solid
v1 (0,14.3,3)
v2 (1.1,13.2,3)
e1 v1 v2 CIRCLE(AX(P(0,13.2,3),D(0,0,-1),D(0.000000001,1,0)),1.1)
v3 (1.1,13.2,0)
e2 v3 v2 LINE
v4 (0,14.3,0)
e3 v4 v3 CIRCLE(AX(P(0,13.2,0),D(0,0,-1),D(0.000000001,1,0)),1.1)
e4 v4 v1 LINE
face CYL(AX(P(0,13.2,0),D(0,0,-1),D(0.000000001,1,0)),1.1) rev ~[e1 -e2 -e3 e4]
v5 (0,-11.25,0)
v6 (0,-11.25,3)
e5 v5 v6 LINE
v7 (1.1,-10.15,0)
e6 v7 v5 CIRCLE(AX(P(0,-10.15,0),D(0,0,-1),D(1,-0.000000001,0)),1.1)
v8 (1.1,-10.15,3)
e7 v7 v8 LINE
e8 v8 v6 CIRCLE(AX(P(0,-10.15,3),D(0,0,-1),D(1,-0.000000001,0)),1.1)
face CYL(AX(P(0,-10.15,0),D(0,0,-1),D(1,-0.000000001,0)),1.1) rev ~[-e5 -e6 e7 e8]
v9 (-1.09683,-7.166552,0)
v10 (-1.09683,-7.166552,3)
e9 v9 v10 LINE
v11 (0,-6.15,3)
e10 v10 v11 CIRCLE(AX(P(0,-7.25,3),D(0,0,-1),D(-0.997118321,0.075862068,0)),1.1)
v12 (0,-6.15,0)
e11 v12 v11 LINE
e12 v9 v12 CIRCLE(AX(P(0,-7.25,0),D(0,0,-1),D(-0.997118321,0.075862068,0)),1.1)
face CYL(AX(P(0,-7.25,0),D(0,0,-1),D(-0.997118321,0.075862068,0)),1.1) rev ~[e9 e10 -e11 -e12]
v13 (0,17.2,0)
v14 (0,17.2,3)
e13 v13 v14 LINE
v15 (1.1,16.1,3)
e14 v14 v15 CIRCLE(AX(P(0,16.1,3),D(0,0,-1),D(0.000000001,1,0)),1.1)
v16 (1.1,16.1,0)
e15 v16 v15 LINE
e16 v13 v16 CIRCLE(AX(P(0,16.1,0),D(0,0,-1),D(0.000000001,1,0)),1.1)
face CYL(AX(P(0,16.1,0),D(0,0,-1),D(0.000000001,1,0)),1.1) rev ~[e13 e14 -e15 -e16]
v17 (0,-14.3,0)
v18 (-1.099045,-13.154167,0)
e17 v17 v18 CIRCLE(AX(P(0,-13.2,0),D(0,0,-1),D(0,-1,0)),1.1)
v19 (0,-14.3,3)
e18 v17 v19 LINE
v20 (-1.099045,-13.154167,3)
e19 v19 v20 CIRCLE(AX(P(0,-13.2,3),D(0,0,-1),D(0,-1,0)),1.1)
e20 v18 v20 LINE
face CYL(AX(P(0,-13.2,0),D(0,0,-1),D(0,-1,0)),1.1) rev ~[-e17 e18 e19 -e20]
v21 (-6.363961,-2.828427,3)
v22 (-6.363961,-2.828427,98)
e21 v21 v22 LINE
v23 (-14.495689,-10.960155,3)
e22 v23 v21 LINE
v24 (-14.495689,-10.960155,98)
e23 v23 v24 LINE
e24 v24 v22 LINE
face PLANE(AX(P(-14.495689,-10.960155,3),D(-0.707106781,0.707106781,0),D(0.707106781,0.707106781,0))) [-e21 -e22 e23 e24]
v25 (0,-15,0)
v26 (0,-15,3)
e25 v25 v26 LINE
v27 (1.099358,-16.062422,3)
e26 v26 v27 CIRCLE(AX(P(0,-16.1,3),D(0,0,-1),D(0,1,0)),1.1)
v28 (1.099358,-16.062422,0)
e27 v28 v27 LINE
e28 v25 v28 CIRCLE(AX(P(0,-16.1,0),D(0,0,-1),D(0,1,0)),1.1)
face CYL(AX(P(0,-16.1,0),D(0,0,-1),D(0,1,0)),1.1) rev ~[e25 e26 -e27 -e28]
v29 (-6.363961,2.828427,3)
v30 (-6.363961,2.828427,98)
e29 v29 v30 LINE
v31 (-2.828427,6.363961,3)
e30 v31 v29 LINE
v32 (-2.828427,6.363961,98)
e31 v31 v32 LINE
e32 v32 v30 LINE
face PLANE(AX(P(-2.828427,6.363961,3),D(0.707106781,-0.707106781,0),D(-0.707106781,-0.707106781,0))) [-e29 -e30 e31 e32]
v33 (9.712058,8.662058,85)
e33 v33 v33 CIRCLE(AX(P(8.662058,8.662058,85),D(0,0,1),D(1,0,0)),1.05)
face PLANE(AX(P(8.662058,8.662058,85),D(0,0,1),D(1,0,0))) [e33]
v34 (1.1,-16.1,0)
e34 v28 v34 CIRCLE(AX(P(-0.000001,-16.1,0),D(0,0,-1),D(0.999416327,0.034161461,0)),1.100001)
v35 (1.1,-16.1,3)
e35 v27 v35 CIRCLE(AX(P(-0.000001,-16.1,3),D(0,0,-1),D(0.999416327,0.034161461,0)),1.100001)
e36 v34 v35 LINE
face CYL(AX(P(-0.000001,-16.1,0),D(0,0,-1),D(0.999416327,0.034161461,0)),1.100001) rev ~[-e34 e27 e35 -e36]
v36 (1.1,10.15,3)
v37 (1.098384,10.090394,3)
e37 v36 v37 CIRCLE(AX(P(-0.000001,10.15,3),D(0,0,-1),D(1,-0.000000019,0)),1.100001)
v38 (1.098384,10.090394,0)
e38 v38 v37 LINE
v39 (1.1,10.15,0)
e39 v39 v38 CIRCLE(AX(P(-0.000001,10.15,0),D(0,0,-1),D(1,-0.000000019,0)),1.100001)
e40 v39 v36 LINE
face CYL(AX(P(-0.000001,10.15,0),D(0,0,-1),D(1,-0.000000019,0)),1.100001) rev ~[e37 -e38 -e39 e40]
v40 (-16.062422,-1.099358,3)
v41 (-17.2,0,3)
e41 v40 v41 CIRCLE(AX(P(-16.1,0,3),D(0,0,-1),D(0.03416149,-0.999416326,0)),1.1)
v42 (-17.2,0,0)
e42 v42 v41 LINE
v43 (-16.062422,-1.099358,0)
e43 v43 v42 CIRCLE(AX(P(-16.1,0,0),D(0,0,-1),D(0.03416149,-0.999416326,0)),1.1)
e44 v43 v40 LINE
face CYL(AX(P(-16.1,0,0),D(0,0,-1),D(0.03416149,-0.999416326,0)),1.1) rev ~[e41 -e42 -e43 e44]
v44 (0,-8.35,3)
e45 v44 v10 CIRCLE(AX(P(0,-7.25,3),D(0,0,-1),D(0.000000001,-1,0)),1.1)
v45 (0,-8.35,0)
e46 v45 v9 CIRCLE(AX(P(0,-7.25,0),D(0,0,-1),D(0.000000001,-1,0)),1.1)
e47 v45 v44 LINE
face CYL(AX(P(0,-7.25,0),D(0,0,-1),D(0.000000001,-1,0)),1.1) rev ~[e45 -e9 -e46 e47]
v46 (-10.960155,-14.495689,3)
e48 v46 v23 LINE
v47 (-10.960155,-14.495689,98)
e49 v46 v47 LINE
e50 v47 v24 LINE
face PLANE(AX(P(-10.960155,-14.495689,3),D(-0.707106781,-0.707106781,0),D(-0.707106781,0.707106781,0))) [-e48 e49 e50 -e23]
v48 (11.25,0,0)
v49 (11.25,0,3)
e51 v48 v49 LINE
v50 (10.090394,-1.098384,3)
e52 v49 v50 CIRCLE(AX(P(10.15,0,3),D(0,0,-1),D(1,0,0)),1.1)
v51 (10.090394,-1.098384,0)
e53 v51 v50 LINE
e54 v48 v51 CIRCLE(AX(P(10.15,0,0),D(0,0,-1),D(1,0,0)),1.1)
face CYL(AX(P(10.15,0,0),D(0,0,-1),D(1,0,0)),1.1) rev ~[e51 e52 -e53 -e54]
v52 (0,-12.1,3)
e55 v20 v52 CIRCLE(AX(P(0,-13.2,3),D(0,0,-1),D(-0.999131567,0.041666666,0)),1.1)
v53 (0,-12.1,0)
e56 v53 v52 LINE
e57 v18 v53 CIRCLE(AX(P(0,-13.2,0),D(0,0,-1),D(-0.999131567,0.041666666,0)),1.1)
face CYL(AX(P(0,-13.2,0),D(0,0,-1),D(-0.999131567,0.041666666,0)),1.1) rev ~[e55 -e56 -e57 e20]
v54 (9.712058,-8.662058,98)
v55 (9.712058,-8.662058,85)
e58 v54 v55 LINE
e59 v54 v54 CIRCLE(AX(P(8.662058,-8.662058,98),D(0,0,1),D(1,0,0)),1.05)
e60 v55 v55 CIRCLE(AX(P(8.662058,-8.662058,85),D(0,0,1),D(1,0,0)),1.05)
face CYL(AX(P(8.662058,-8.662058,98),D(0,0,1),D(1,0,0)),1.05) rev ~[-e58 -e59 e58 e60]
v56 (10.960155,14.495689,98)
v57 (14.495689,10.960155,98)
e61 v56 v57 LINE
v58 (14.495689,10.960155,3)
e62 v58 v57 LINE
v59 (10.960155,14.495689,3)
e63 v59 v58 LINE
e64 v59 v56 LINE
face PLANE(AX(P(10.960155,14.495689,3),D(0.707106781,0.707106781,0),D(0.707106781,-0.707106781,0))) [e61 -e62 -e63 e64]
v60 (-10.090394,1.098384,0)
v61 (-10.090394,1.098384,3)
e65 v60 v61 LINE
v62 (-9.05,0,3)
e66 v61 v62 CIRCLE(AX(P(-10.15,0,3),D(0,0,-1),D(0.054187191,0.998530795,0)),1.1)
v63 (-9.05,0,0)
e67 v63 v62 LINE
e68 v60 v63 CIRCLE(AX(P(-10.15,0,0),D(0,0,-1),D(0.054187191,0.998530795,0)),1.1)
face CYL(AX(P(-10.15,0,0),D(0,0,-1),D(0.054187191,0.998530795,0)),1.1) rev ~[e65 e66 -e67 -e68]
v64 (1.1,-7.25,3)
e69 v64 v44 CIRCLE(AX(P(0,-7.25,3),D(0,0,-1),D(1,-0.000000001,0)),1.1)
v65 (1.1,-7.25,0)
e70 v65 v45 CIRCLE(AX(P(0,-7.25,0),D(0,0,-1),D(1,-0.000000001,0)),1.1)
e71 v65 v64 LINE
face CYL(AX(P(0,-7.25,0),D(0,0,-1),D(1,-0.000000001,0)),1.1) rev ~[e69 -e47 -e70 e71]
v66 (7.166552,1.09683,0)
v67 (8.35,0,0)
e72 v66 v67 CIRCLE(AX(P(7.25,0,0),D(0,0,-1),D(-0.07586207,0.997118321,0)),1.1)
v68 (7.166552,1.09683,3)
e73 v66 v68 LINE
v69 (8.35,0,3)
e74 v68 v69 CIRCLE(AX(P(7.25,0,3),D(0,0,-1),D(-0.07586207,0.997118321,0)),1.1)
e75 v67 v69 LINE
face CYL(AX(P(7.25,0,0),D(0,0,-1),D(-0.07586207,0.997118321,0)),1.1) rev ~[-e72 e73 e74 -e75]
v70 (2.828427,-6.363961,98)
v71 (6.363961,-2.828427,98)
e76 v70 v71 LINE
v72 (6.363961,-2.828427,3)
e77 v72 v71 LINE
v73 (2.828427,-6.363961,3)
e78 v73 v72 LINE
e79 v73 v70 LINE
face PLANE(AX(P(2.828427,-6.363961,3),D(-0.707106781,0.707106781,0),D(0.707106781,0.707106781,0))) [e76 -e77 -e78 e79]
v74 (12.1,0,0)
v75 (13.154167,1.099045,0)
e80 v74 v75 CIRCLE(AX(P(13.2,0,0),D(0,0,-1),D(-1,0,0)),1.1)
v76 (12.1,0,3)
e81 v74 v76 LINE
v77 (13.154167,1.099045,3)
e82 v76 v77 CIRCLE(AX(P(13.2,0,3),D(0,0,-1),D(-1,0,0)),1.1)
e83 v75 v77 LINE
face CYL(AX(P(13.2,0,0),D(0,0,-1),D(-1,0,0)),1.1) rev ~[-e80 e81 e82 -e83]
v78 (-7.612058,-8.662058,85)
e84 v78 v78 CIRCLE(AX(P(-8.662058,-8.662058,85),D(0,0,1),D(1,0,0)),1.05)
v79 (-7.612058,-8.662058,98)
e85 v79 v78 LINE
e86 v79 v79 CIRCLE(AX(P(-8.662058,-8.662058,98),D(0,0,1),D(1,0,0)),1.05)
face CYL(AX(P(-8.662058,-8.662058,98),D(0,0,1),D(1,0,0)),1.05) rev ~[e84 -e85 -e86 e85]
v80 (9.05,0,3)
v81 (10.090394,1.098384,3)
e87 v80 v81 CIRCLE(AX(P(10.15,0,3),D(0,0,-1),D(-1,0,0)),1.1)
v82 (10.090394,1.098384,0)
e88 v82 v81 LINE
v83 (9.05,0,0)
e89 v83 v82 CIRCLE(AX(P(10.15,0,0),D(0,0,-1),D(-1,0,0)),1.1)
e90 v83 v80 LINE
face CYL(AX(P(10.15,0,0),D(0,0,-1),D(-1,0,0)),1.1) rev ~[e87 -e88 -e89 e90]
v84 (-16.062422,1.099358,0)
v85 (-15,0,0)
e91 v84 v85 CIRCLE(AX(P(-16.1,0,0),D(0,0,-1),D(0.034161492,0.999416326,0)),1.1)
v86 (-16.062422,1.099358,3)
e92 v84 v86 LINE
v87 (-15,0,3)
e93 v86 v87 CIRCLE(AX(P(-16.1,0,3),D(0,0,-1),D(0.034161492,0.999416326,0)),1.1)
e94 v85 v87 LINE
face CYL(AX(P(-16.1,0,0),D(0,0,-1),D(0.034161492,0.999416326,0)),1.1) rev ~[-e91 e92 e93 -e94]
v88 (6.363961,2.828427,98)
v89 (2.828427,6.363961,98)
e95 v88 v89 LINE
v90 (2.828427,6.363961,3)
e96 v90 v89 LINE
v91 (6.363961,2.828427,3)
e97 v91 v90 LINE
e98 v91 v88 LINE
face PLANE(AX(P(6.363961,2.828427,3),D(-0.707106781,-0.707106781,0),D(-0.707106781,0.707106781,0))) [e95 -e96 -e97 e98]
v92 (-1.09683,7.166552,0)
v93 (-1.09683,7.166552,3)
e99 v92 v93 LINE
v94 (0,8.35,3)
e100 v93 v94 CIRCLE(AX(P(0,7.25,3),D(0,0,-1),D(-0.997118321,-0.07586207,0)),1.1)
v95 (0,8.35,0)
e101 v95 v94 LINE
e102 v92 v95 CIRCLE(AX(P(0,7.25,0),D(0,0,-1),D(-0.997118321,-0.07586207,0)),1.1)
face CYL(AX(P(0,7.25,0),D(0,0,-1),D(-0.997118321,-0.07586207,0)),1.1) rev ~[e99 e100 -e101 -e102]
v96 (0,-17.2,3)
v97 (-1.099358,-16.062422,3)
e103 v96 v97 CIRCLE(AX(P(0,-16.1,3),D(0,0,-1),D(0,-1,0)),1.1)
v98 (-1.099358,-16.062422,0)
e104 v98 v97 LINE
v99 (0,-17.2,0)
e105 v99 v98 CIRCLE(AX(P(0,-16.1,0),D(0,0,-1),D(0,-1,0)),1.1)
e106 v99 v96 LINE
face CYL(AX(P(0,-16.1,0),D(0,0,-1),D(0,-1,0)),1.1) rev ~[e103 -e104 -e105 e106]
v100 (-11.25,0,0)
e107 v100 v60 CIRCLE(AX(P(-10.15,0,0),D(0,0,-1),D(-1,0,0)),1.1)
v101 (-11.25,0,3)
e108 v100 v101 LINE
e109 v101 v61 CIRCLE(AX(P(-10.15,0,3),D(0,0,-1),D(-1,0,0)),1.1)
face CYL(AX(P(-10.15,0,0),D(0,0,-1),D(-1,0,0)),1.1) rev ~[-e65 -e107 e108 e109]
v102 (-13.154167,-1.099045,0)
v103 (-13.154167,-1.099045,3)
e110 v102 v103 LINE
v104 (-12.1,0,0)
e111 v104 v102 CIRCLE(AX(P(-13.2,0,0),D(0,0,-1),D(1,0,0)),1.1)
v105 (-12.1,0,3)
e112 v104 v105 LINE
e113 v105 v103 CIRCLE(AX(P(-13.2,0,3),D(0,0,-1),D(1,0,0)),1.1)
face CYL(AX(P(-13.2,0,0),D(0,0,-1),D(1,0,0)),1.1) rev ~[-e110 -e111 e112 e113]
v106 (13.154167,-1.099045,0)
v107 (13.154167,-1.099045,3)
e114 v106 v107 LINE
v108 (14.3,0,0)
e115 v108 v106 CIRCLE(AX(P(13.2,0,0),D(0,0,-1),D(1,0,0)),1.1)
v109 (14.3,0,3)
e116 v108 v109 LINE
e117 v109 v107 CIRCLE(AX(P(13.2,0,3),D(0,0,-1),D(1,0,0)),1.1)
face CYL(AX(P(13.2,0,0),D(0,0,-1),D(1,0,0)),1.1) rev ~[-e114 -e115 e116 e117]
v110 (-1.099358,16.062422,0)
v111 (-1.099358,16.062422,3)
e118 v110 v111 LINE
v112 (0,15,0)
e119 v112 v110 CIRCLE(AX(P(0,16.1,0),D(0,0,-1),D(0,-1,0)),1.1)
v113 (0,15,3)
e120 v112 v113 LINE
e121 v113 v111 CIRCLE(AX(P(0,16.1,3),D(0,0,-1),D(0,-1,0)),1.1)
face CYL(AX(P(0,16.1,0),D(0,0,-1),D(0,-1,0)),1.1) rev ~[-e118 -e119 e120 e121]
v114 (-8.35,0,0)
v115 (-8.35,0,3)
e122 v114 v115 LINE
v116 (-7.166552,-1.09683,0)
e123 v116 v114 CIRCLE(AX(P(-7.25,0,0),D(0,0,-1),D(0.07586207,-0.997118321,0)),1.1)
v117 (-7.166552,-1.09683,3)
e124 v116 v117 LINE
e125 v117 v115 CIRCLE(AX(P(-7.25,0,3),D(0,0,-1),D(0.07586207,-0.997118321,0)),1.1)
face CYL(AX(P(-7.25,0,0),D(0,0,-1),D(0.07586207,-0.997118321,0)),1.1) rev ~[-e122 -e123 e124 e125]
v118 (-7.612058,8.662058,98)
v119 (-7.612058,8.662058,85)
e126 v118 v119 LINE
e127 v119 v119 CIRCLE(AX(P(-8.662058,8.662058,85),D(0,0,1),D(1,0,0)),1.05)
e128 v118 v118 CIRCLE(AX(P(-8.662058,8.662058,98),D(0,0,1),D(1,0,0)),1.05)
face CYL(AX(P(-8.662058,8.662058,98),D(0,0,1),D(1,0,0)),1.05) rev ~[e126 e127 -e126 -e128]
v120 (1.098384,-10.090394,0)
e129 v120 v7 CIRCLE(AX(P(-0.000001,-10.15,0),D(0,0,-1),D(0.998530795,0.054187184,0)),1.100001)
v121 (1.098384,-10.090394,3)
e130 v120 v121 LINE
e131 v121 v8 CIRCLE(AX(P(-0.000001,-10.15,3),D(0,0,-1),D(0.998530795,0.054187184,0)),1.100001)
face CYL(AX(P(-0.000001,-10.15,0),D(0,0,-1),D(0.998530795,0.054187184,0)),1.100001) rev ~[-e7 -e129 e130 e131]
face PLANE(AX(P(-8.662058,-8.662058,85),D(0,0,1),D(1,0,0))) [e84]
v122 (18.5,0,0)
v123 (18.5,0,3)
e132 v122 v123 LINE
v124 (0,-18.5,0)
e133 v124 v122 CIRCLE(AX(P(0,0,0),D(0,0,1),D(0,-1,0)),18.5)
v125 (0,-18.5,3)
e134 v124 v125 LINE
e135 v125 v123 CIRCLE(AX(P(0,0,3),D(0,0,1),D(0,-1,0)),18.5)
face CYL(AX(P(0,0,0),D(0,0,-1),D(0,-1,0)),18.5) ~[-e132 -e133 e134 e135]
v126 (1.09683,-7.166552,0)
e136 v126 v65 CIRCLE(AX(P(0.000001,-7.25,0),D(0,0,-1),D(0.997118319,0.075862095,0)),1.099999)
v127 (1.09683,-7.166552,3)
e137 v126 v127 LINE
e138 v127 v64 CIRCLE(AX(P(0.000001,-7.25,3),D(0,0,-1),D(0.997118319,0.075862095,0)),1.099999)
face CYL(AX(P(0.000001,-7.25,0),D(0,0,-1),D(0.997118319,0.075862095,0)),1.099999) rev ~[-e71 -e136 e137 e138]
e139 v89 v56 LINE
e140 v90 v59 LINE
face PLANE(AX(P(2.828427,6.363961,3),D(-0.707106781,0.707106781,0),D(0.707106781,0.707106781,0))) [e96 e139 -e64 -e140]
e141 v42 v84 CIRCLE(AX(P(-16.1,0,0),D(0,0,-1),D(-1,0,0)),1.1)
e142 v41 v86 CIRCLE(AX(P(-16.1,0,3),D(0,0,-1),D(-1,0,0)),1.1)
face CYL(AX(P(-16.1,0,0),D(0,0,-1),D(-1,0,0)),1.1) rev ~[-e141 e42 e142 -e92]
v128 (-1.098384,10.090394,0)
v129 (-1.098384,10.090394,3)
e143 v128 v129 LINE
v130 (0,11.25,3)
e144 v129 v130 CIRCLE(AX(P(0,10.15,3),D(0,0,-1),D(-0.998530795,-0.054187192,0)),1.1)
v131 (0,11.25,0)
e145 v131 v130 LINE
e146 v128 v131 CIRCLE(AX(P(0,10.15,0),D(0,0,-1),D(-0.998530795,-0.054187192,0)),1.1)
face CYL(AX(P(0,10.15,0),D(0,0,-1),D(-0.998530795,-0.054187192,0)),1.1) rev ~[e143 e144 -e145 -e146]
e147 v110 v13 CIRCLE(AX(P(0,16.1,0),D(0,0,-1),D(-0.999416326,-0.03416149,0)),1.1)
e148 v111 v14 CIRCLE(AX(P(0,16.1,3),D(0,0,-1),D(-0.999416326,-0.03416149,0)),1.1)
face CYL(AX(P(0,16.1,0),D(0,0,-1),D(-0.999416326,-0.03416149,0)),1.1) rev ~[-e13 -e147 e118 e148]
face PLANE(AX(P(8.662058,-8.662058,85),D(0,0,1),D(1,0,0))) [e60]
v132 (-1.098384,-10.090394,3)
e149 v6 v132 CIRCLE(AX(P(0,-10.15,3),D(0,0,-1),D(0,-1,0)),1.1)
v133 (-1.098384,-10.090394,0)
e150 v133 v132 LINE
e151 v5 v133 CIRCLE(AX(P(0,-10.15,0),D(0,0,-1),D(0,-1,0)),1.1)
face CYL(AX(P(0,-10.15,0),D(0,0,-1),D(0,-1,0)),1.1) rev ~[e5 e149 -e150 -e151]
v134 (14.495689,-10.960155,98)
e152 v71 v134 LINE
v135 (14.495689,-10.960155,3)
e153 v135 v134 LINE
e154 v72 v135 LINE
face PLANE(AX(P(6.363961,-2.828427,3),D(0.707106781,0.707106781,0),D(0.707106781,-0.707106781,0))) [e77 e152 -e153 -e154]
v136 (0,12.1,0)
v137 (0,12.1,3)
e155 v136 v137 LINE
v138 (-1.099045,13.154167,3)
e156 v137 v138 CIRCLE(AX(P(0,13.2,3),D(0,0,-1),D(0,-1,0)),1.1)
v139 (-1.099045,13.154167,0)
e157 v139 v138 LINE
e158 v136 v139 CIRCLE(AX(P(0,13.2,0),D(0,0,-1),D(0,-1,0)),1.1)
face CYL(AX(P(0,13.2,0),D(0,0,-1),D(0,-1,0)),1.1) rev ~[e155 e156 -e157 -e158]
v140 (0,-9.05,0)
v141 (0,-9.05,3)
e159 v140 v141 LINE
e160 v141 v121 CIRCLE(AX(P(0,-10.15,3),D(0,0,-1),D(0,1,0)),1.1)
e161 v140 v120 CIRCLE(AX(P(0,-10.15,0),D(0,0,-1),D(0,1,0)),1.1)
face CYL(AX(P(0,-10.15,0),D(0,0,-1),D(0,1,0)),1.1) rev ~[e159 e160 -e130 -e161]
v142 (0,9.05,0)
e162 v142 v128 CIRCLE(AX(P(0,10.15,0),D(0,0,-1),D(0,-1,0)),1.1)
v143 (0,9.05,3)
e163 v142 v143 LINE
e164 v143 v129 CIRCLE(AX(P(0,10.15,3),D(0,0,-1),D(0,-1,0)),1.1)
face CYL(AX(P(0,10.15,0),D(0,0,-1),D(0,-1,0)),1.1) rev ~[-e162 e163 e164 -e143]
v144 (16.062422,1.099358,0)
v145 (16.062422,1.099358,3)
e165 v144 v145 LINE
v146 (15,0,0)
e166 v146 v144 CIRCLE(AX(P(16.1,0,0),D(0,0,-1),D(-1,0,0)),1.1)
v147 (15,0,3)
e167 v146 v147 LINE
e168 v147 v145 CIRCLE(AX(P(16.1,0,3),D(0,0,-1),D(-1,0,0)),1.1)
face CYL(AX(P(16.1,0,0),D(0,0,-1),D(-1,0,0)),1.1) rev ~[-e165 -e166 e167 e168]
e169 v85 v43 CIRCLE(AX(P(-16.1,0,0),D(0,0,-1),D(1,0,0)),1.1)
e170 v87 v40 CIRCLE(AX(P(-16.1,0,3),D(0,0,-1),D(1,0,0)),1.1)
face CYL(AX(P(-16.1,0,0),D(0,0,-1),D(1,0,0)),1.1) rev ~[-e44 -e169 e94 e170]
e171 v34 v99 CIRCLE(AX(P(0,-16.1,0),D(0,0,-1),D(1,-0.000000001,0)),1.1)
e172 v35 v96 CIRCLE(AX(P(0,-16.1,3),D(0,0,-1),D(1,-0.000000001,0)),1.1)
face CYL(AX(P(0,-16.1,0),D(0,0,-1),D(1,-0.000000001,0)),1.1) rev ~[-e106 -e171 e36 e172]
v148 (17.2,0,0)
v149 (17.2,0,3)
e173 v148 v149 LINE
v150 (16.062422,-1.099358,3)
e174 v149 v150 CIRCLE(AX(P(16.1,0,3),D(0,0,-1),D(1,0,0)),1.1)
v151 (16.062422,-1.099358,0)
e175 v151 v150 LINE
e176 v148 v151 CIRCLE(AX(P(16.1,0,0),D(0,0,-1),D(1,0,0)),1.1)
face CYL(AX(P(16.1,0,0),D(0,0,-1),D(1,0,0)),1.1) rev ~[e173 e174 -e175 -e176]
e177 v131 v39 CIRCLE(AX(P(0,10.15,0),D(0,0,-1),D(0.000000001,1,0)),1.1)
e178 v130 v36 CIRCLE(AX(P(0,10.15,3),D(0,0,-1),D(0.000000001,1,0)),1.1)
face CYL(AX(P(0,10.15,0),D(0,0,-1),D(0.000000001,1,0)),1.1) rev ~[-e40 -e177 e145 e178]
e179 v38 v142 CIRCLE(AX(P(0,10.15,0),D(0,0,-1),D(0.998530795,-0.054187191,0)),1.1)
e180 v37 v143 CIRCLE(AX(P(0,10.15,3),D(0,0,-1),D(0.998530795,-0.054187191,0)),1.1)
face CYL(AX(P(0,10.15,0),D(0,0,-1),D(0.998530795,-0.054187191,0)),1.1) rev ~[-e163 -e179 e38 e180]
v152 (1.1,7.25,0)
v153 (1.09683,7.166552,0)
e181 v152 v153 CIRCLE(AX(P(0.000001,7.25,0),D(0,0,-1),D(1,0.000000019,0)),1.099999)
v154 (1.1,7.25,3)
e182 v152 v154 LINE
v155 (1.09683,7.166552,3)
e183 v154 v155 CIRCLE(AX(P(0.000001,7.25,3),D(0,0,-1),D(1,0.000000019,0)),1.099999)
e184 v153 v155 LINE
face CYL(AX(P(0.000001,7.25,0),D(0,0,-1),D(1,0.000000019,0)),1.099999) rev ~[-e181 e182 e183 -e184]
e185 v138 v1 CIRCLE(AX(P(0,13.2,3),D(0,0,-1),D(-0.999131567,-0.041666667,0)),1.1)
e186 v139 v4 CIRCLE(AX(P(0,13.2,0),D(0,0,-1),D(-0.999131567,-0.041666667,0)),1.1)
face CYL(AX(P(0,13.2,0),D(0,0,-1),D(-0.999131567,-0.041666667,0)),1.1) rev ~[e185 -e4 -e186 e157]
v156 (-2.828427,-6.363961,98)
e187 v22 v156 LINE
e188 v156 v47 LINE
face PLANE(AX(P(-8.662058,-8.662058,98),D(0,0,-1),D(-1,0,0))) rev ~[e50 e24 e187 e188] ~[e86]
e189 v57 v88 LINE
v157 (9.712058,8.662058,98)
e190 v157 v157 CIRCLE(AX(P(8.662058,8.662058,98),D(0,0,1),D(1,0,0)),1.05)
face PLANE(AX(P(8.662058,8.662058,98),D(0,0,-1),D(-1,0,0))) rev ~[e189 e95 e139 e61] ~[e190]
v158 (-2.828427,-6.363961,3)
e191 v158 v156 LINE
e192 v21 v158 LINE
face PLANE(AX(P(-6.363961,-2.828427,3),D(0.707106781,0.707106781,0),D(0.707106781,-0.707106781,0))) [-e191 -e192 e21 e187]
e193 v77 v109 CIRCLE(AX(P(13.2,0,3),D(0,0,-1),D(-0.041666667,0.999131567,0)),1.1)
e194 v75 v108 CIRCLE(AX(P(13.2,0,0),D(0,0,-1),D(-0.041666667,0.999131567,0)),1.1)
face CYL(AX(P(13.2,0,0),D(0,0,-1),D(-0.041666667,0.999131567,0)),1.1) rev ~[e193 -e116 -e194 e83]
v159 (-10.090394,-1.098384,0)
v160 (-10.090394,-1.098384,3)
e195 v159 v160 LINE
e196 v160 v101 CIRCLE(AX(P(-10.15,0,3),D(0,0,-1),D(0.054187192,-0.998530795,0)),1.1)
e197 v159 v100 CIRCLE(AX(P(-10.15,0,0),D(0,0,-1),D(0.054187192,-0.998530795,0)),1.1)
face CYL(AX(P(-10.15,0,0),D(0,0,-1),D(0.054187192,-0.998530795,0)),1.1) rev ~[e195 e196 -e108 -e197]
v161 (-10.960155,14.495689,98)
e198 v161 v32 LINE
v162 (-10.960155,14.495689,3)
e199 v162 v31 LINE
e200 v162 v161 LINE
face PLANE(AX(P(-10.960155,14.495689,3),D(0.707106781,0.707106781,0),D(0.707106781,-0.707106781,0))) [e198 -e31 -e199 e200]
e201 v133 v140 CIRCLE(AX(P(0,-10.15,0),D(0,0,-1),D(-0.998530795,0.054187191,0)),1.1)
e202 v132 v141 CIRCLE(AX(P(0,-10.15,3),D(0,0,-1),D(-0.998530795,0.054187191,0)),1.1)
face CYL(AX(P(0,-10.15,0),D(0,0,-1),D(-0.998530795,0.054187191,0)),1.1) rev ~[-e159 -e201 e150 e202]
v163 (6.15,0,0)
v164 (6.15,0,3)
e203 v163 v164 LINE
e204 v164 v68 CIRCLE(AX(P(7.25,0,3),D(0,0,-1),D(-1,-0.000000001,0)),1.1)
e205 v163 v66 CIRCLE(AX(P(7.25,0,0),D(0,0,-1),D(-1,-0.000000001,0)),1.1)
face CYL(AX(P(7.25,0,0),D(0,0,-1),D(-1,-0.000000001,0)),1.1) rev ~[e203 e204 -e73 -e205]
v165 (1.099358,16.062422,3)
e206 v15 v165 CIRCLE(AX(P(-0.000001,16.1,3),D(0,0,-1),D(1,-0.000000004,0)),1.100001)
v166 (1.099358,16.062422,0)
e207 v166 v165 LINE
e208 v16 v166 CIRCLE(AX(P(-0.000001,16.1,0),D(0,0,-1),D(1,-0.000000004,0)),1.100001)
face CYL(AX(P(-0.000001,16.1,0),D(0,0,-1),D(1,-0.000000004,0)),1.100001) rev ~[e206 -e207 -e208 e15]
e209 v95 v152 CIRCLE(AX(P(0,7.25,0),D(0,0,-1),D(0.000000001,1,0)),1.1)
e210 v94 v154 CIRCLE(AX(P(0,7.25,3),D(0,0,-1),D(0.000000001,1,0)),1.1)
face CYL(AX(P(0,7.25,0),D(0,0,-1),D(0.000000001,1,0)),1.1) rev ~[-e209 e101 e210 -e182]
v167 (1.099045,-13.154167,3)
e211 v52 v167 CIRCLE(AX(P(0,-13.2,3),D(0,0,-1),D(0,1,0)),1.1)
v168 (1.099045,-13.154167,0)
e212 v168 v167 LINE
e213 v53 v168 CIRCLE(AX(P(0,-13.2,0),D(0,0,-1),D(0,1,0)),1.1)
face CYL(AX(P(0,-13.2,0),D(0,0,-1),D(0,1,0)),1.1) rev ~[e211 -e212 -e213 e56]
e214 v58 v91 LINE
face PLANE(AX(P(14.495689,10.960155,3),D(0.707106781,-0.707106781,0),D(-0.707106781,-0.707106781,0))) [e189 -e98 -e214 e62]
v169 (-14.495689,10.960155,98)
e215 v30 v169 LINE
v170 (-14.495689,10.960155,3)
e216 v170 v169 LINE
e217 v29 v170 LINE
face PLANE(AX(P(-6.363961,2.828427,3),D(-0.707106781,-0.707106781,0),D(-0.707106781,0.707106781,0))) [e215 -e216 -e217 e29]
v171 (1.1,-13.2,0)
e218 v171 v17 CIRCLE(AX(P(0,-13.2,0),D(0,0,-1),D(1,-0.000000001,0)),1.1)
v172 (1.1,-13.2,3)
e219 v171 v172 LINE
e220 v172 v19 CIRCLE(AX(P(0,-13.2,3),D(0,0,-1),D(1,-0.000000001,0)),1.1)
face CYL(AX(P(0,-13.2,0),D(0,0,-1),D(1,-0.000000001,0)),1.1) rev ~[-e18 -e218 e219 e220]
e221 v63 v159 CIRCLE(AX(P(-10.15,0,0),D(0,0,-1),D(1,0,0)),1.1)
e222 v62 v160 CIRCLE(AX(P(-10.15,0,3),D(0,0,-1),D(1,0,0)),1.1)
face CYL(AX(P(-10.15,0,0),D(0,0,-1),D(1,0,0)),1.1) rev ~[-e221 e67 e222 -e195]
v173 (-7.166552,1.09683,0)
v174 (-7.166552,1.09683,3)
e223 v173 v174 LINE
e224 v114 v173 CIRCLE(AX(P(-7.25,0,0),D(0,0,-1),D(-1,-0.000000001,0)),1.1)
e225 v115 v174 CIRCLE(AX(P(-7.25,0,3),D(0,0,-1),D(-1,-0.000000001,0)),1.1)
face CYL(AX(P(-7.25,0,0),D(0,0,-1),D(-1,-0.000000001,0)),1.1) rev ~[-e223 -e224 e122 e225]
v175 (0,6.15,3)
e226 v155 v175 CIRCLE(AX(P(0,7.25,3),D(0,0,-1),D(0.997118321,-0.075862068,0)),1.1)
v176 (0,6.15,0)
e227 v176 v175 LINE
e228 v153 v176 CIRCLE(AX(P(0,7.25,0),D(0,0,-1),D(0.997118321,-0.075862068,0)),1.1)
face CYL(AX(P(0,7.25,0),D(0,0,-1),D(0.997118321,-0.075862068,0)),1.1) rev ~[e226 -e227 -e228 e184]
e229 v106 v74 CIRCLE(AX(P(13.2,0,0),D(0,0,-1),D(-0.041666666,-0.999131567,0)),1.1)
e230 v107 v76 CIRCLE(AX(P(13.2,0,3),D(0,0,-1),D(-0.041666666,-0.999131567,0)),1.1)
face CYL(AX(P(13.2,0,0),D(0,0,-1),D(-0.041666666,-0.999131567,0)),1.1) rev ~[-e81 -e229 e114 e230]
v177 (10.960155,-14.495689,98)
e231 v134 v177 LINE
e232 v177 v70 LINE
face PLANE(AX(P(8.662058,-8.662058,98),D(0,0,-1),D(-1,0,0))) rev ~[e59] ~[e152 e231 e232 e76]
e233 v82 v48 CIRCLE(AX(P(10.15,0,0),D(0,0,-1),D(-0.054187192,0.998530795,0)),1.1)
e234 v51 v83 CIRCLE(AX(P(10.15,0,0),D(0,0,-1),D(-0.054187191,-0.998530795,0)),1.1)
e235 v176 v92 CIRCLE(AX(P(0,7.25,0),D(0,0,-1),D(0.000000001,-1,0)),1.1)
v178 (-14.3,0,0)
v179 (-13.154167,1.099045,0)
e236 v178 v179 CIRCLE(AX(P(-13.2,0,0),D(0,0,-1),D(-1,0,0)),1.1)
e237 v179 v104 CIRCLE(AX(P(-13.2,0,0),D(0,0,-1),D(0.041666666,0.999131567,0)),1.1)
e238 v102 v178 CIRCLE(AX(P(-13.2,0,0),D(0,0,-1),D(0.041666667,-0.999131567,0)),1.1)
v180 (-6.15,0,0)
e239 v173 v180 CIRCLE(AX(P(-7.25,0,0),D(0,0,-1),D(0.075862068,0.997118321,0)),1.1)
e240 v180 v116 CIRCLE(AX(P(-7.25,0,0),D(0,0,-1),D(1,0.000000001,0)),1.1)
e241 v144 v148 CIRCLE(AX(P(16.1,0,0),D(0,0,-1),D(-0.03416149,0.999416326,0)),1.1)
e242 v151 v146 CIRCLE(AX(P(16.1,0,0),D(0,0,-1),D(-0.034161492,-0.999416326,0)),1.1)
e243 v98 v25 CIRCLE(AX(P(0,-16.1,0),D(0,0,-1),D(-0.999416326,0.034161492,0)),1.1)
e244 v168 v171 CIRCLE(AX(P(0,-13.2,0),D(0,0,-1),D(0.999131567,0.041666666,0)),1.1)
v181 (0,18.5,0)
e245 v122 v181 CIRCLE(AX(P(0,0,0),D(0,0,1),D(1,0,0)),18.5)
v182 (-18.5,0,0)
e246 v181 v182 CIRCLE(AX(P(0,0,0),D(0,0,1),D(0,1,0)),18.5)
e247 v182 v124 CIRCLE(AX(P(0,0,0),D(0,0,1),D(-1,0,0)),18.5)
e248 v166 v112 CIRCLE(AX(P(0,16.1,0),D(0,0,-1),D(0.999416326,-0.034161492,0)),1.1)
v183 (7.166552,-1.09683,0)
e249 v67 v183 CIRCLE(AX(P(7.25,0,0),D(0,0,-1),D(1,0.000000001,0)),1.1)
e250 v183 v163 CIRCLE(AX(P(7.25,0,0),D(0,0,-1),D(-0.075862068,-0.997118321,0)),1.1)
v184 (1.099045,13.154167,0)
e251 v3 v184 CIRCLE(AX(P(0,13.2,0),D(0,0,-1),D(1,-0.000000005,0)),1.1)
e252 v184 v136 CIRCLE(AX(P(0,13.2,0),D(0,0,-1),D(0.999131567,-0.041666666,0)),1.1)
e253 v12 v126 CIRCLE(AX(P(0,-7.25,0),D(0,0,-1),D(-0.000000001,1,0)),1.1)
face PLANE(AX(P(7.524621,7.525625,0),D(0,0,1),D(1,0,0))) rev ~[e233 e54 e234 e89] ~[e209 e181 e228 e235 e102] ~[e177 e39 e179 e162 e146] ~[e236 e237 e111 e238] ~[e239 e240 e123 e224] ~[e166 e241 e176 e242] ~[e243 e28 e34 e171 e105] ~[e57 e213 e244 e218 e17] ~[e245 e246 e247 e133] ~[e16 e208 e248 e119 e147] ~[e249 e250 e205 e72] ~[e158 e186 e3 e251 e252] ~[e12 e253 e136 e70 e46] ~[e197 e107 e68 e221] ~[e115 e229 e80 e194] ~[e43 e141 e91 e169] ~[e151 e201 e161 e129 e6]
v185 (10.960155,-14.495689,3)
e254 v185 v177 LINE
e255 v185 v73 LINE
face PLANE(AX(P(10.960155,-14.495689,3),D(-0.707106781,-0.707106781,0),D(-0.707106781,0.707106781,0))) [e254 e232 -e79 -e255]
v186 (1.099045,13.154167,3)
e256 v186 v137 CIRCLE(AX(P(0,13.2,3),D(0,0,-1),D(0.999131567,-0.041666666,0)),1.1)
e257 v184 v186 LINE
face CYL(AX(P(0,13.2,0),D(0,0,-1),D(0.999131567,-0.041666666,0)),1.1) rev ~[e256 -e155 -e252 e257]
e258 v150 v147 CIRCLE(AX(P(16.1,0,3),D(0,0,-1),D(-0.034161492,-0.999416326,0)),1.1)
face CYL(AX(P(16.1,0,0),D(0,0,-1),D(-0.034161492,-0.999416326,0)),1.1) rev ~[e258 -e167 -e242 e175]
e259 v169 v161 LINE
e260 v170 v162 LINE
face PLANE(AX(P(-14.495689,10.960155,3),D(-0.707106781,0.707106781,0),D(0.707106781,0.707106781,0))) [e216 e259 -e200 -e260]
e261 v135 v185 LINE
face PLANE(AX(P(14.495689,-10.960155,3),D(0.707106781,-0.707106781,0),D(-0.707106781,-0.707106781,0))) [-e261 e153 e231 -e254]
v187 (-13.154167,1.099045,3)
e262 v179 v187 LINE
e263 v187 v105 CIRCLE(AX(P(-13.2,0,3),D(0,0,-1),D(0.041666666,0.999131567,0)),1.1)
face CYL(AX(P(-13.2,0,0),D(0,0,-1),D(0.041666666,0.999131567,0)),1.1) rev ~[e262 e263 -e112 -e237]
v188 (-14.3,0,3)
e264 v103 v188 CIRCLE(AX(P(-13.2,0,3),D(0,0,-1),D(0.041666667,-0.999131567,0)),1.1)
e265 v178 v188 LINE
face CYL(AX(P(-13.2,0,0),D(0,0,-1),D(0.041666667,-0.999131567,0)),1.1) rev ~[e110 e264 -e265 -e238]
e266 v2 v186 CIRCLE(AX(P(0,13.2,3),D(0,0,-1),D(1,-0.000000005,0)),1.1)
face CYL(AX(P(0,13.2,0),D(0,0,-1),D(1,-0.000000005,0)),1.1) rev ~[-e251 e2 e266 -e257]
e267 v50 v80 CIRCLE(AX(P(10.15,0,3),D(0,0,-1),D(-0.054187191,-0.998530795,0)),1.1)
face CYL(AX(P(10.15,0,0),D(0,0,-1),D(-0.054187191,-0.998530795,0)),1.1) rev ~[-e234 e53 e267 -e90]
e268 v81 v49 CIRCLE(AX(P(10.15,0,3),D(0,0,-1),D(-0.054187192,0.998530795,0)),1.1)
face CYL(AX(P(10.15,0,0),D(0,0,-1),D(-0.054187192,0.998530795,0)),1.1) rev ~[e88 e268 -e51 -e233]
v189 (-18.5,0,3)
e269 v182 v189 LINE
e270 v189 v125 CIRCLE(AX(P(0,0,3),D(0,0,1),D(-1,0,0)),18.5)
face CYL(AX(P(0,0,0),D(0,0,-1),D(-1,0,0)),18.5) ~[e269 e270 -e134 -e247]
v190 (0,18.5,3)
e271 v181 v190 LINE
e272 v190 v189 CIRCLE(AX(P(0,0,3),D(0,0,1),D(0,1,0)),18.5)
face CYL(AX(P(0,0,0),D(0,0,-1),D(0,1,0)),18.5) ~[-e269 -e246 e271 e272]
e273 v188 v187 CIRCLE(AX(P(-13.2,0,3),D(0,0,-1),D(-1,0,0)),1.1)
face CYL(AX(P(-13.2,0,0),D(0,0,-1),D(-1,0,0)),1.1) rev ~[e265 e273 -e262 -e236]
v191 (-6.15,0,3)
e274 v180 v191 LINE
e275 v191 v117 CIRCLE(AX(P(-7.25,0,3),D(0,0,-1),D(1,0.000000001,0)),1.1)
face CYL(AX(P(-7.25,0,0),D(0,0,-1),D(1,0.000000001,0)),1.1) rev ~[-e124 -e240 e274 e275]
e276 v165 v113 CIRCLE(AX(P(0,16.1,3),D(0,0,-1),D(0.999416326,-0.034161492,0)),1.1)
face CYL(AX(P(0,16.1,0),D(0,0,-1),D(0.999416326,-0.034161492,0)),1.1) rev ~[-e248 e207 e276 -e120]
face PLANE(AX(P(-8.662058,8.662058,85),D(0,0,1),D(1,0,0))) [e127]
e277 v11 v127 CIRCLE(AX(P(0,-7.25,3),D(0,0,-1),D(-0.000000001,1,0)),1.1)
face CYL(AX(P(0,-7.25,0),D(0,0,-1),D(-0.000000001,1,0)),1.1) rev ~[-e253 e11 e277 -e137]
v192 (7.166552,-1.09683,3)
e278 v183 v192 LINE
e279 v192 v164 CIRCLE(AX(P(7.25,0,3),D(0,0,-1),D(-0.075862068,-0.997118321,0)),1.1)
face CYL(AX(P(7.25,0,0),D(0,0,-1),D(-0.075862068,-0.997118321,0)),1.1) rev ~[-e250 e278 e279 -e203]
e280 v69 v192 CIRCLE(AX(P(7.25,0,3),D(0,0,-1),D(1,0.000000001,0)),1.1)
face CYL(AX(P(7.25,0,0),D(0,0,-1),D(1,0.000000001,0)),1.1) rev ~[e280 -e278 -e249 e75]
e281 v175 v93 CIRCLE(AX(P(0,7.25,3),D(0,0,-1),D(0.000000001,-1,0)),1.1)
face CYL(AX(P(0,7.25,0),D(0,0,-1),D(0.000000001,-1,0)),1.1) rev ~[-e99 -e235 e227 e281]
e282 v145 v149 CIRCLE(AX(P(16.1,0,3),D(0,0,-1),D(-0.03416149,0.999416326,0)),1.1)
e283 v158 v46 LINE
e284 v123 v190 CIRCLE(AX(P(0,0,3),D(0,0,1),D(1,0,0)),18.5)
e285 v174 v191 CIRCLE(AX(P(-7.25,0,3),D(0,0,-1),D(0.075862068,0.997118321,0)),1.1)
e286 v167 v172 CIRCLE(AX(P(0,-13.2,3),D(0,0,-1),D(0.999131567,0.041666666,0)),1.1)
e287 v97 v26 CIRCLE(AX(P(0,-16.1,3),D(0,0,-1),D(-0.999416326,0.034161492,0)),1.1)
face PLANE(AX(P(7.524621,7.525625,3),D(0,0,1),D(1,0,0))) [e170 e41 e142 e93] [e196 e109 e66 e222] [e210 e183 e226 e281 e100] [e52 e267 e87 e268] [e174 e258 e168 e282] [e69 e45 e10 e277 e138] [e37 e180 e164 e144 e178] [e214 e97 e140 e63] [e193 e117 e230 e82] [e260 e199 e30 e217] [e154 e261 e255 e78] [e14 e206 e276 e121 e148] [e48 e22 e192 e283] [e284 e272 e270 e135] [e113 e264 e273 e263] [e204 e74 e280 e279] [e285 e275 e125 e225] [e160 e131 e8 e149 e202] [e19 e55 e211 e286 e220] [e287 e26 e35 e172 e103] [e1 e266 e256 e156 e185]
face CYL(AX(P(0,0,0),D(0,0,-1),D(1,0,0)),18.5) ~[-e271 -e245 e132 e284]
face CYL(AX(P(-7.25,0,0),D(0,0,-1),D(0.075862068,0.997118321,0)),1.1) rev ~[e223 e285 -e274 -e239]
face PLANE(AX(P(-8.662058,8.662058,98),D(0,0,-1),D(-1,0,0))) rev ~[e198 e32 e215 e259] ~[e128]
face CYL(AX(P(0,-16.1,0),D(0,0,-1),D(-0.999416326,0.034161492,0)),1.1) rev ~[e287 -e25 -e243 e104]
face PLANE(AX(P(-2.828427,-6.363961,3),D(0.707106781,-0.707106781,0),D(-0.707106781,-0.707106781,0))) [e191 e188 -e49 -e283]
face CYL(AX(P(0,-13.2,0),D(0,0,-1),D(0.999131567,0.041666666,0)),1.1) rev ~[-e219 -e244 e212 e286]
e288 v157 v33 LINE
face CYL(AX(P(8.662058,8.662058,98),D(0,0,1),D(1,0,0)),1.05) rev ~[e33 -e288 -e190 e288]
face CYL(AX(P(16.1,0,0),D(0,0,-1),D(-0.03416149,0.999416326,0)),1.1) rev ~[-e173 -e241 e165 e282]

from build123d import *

# Parameters (mm, degrees)
AUFSATZ_LINEAR_AUSTRAGEN1_DEPTH = 3
AUFSATZ_LINEAR_AUSTRAGEN2_DEPTH = 95
SKIZZE5_R                       = 1.05
SCHNITT_LINEAR_AUSTRAGEN2_DEPTH = 13


with BuildPart() as part:
    # Skizze2 → Aufsatz-Linear austragen1 (new body)
    with BuildSketch(Plane.XY):
        with BuildLine():
            ThreePointArc((18.5, 0), (13.081475452, 13.081475452), (0, 18.5))
            Line((0, 18.5), (0, 17.2))
            ThreePointArc((0, 17.2), (0.777817459, 16.877817459), (1.1, 16.1))
            ThreePointArc((1.1, 16.1), (1.099839478, 16.081208438), (1.099357959, 16.06242236))
            ThreePointArc((1.099357959, 16.06242236), (0.764416312, 15.309008406), (0, 15))
            Line((0, 15), (0, 14.3))
            ThreePointArc((0, 14.3), (0.777817459, 13.977817459), (1.1, 13.2))
            ThreePointArc((1.1, 13.2), (1.099761155, 13.177078356), (1.099044724, 13.154166667))
            ThreePointArc((1.099044724, 13.154166667), (0.761440521, 12.40614338), (0, 12.1))
            Line((0, 12.1), (0, 11.25))
            ThreePointArc((0, 11.25), (0.777817459, 10.927817459), (1.1, 10.15))
            ThreePointArc((1.1, 10.15), (1.099595894, 10.120186092), (1.098383874, 10.090394089))
            ThreePointArc((1.098383874, 10.090394089), (0.756450097, 9.35138667), (0, 9.05))
            Line((0, 9.05), (0, 8.35))
            ThreePointArc((0, 8.35), (0.777817459, 8.027817459), (1.1, 7.25))
            ThreePointArc((1.1, 7.25), (1.099207253, 7.208245771), (1.096830153, 7.166551724))
            ThreePointArc((1.096830153, 7.166551724), (0.747732204, 6.443218399), (0, 6.15))
            Line((0, 6.15), (0, 0))
            Line((0, 0), (6.15, 0))
            ThreePointArc((6.15, 0), (6.443218399, 0.747732204), (7.166551724, 1.096830153))
            ThreePointArc((7.166551724, 1.096830153), (7.997732204, 0.806781601), (8.35, 0))
            Line((8.35, 0), (9.05, 0))
            ThreePointArc((9.05, 0), (9.35138667, 0.756450097), (10.090394089, 1.098383874))
            ThreePointArc((10.090394089, 1.098383874), (10.906450097, 0.79861333), (11.25, 0))
            Line((11.25, 0), (12.1, 0))
            ThreePointArc((12.1, 0), (12.40614338, 0.761440521), (13.154166667, 1.099044724))
            ThreePointArc((13.154166667, 1.099044724), (13.961440521, 0.79385662), (14.3, 0))
            Line((14.3, 0), (15, 0))
            ThreePointArc((15, 0), (15.309008406, 0.764416312), (16.06242236, 1.099357959))
            ThreePointArc((16.06242236, 1.099357959), (16.864416312, 0.790991594), (17.2, 0))
            Line((17.2, 0), (18.5, 0))
        make_face()
        with BuildLine():
            ThreePointArc((0, -18.5), (13.081475452, -13.081475452), (18.5, 0))
            Line((18.5, 0), (17.2, 0))
            ThreePointArc((17.2, 0), (16.864416312, -0.790991594), (16.06242236, -1.099357959))
            ThreePointArc((16.06242236, -1.099357959), (15.309008406, -0.764416312), (15, 0))
            Line((15, 0), (14.3, 0))
            ThreePointArc((14.3, 0), (13.961440521, -0.79385662), (13.154166667, -1.099044724))
            ThreePointArc((13.154166667, -1.099044724), (12.40614338, -0.761440521), (12.1, 0))
            Line((12.1, 0), (11.25, 0))
            ThreePointArc((11.25, 0), (10.906450097, -0.79861333), (10.090394089, -1.098383874))
            ThreePointArc((10.090394089, -1.098383874), (9.35138667, -0.756450097), (9.05, 0))
            Line((9.05, 0), (8.35, 0))
            ThreePointArc((8.35, 0), (7.997732204, -0.806781601), (7.166551724, -1.096830153))
            ThreePointArc((7.166551724, -1.096830153), (6.443218399, -0.747732204), (6.15, 0))
            Line((6.15, 0), (0, 0))
            Line((0, 0), (0, -6.15))
            ThreePointArc((0, -6.15), (0.747732204, -6.443218399), (1.096830153, -7.166551724))
            ThreePointArc((1.096830153, -7.166551724), (1.099207253, -7.208245771), (1.1, -7.25))
            ThreePointArc((1.1, -7.25), (0.777817459, -8.027817459), (0, -8.35))
            Line((0, -8.35), (0, -9.05))
            ThreePointArc((0, -9.05), (0.756450097, -9.35138667), (1.098383874, -10.090394089))
            ThreePointArc((1.098383874, -10.090394089), (1.099595894, -10.120186092), (1.1, -10.15))
            ThreePointArc((1.1, -10.15), (0.777817459, -10.927817459), (0, -11.25))
            Line((0, -11.25), (0, -12.1))
            ThreePointArc((0, -12.1), (0.761440521, -12.40614338), (1.099044724, -13.154166667))
            ThreePointArc((1.099044724, -13.154166667), (1.099761155, -13.177078356), (1.1, -13.2))
            ThreePointArc((1.1, -13.2), (0.777817459, -13.977817459), (0, -14.3))
            Line((0, -14.3), (0, -15))
            ThreePointArc((0, -15), (0.764416312, -15.309008406), (1.099357959, -16.06242236))
            ThreePointArc((1.099357959, -16.06242236), (1.099839478, -16.081208438), (1.1, -16.1))
            ThreePointArc((1.1, -16.1), (0.777817459, -16.877817459), (0, -17.2))
            Line((0, -17.2), (0, -18.5))
        make_face()
        with BuildLine():
            Line((-17.2, 0), (-18.5, 0))
            ThreePointArc((-18.5, 0), (-13.081475452, -13.081475452), (0, -18.5))
            Line((0, -18.5), (0, -17.2))
            ThreePointArc((0, -17.2), (-0.790991594, -16.864416312), (-1.099357959, -16.06242236))
            ThreePointArc((-1.099357959, -16.06242236), (-0.764416312, -15.309008406), (0, -15))
            Line((0, -15), (0, -14.3))
            ThreePointArc((0, -14.3), (-0.79385662, -13.961440521), (-1.099044724, -13.154166667))
            ThreePointArc((-1.099044724, -13.154166667), (-0.761440521, -12.40614338), (0, -12.1))
            Line((0, -12.1), (0, -11.25))
            ThreePointArc((0, -11.25), (-0.79861333, -10.906450097), (-1.098383874, -10.090394089))
            ThreePointArc((-1.098383874, -10.090394089), (-0.756450097, -9.35138667), (0, -9.05))
            Line((0, -9.05), (0, -8.35))
            ThreePointArc((0, -8.35), (-0.806781601, -7.997732204), (-1.096830153, -7.166551724))
            ThreePointArc((-1.096830153, -7.166551724), (-0.747732204, -6.443218399), (0, -6.15))
            Line((0, -6.15), (0, 0))
            Line((0, 0), (-6.15, 0))
            ThreePointArc((-6.15, 0), (-6.443218399, -0.747732204), (-7.166551724, -1.096830153))
            ThreePointArc((-7.166551724, -1.096830153), (-7.997732204, -0.806781601), (-8.35, 0))
            Line((-8.35, 0), (-9.05, 0))
            ThreePointArc((-9.05, 0), (-9.35138667, -0.756450097), (-10.090394089, -1.098383874))
            ThreePointArc((-10.090394089, -1.098383874), (-10.906450097, -0.79861333), (-11.25, 0))
            Line((-11.25, 0), (-12.1, 0))
            ThreePointArc((-12.1, 0), (-12.40614338, -0.761440521), (-13.154166667, -1.099044724))
            ThreePointArc((-13.154166667, -1.099044724), (-13.961440521, -0.79385662), (-14.3, 0))
            Line((-14.3, 0), (-15, 0))
            ThreePointArc((-15, 0), (-15.309008406, -0.764416312), (-16.06242236, -1.099357959))
            ThreePointArc((-16.06242236, -1.099357959), (-16.864416312, -0.790991594), (-17.2, 0))
        make_face()
        with BuildLine():
            Line((0, 17.2), (0, 18.5))
            ThreePointArc((0, 18.5), (-13.081475452, 13.081475452), (-18.5, 0))
            Line((-18.5, 0), (-17.2, 0))
            ThreePointArc((-17.2, 0), (-16.864416312, 0.790991594), (-16.06242236, 1.099357959))
            ThreePointArc((-16.06242236, 1.099357959), (-15.309008406, 0.764416312), (-15, 0))
            Line((-15, 0), (-14.3, 0))
            ThreePointArc((-14.3, 0), (-13.961440521, 0.79385662), (-13.154166667, 1.099044724))
            ThreePointArc((-13.154166667, 1.099044724), (-12.40614338, 0.761440521), (-12.1, 0))
            Line((-12.1, 0), (-11.25, 0))
            ThreePointArc((-11.25, 0), (-10.906450097, 0.79861333), (-10.090394089, 1.098383874))
            ThreePointArc((-10.090394089, 1.098383874), (-9.35138667, 0.756450097), (-9.05, 0))
            Line((-9.05, 0), (-8.35, 0))
            ThreePointArc((-8.35, 0), (-7.997732204, 0.806781601), (-7.166551724, 1.096830153))
            ThreePointArc((-7.166551724, 1.096830153), (-6.443218399, 0.747732204), (-6.15, 0))
            Line((-6.15, 0), (0, 0))
            Line((0, 0), (0, 6.15))
            ThreePointArc((0, 6.15), (-0.747732204, 6.443218399), (-1.096830153, 7.166551724))
            ThreePointArc((-1.096830153, 7.166551724), (-0.806781601, 7.997732204), (0, 8.35))
            Line((0, 8.35), (0, 9.05))
            ThreePointArc((0, 9.05), (-0.756450097, 9.35138667), (-1.098383874, 10.090394089))
            ThreePointArc((-1.098383874, 10.090394089), (-0.79861333, 10.906450097), (0, 11.25))
            Line((0, 11.25), (0, 12.1))
            ThreePointArc((0, 12.1), (-0.761440521, 12.40614338), (-1.099044724, 13.154166667))
            ThreePointArc((-1.099044724, 13.154166667), (-0.79385662, 13.961440521), (0, 14.3))
            Line((0, 14.3), (0, 15))
            ThreePointArc((0, 15), (-0.764416312, 15.309008406), (-1.099357959, 16.06242236))
            ThreePointArc((-1.099357959, 16.06242236), (-0.790991594, 16.864416312), (0, 17.2))
        make_face()
    extrude(amount=AUFSATZ_LINEAR_AUSTRAGEN1_DEPTH)

    # Skizze4 → Aufsatz-Linear austragen2 (add)
    with BuildSketch(Plane.XY.offset(3)):
        Polygon((2.828427125, 6.363961031), (10.960155108, 14.495689014), (14.495689014, 10.960155108), (6.363961031, 2.828427125), align=None)
        Polygon((6.363961031, -2.828427125), (14.495689014, -10.960155108), (10.960155108, -14.495689014), (2.828427125, -6.363961031), align=None)
        Polygon((-2.828427125, -6.363961031), (-10.960155108, -14.495689014), (-14.495689014, -10.960155108), (-6.363961031, -2.828427125), align=None)
        Polygon((-6.363961031, 2.828427125), (-14.495689014, 10.960155108), (-10.960155108, 14.495689014), (-2.828427125, 6.363961031), align=None)
    extrude(amount=AUFSATZ_LINEAR_AUSTRAGEN2_DEPTH)

    # Skizze5 → Schnitt-Linear austragen2 (cut)
    with BuildSketch(Plane.XY.offset(98)):
        with Locations((-8.66205807, -8.66205807)):
            Circle(SKIZZE5_R)
        with Locations((-8.66205807, 8.66205807)):
            Circle(SKIZZE5_R)
        with Locations((8.66205807, 8.66205807)):
            Circle(SKIZZE5_R)
        with Locations((8.66205807, -8.66205807)):
            Circle(SKIZZE5_R)
    extrude(amount=-SCHNITT_LINEAR_AUSTRAGEN2_DEPTH, mode=Mode.SUBTRACT)


solid = part.part
